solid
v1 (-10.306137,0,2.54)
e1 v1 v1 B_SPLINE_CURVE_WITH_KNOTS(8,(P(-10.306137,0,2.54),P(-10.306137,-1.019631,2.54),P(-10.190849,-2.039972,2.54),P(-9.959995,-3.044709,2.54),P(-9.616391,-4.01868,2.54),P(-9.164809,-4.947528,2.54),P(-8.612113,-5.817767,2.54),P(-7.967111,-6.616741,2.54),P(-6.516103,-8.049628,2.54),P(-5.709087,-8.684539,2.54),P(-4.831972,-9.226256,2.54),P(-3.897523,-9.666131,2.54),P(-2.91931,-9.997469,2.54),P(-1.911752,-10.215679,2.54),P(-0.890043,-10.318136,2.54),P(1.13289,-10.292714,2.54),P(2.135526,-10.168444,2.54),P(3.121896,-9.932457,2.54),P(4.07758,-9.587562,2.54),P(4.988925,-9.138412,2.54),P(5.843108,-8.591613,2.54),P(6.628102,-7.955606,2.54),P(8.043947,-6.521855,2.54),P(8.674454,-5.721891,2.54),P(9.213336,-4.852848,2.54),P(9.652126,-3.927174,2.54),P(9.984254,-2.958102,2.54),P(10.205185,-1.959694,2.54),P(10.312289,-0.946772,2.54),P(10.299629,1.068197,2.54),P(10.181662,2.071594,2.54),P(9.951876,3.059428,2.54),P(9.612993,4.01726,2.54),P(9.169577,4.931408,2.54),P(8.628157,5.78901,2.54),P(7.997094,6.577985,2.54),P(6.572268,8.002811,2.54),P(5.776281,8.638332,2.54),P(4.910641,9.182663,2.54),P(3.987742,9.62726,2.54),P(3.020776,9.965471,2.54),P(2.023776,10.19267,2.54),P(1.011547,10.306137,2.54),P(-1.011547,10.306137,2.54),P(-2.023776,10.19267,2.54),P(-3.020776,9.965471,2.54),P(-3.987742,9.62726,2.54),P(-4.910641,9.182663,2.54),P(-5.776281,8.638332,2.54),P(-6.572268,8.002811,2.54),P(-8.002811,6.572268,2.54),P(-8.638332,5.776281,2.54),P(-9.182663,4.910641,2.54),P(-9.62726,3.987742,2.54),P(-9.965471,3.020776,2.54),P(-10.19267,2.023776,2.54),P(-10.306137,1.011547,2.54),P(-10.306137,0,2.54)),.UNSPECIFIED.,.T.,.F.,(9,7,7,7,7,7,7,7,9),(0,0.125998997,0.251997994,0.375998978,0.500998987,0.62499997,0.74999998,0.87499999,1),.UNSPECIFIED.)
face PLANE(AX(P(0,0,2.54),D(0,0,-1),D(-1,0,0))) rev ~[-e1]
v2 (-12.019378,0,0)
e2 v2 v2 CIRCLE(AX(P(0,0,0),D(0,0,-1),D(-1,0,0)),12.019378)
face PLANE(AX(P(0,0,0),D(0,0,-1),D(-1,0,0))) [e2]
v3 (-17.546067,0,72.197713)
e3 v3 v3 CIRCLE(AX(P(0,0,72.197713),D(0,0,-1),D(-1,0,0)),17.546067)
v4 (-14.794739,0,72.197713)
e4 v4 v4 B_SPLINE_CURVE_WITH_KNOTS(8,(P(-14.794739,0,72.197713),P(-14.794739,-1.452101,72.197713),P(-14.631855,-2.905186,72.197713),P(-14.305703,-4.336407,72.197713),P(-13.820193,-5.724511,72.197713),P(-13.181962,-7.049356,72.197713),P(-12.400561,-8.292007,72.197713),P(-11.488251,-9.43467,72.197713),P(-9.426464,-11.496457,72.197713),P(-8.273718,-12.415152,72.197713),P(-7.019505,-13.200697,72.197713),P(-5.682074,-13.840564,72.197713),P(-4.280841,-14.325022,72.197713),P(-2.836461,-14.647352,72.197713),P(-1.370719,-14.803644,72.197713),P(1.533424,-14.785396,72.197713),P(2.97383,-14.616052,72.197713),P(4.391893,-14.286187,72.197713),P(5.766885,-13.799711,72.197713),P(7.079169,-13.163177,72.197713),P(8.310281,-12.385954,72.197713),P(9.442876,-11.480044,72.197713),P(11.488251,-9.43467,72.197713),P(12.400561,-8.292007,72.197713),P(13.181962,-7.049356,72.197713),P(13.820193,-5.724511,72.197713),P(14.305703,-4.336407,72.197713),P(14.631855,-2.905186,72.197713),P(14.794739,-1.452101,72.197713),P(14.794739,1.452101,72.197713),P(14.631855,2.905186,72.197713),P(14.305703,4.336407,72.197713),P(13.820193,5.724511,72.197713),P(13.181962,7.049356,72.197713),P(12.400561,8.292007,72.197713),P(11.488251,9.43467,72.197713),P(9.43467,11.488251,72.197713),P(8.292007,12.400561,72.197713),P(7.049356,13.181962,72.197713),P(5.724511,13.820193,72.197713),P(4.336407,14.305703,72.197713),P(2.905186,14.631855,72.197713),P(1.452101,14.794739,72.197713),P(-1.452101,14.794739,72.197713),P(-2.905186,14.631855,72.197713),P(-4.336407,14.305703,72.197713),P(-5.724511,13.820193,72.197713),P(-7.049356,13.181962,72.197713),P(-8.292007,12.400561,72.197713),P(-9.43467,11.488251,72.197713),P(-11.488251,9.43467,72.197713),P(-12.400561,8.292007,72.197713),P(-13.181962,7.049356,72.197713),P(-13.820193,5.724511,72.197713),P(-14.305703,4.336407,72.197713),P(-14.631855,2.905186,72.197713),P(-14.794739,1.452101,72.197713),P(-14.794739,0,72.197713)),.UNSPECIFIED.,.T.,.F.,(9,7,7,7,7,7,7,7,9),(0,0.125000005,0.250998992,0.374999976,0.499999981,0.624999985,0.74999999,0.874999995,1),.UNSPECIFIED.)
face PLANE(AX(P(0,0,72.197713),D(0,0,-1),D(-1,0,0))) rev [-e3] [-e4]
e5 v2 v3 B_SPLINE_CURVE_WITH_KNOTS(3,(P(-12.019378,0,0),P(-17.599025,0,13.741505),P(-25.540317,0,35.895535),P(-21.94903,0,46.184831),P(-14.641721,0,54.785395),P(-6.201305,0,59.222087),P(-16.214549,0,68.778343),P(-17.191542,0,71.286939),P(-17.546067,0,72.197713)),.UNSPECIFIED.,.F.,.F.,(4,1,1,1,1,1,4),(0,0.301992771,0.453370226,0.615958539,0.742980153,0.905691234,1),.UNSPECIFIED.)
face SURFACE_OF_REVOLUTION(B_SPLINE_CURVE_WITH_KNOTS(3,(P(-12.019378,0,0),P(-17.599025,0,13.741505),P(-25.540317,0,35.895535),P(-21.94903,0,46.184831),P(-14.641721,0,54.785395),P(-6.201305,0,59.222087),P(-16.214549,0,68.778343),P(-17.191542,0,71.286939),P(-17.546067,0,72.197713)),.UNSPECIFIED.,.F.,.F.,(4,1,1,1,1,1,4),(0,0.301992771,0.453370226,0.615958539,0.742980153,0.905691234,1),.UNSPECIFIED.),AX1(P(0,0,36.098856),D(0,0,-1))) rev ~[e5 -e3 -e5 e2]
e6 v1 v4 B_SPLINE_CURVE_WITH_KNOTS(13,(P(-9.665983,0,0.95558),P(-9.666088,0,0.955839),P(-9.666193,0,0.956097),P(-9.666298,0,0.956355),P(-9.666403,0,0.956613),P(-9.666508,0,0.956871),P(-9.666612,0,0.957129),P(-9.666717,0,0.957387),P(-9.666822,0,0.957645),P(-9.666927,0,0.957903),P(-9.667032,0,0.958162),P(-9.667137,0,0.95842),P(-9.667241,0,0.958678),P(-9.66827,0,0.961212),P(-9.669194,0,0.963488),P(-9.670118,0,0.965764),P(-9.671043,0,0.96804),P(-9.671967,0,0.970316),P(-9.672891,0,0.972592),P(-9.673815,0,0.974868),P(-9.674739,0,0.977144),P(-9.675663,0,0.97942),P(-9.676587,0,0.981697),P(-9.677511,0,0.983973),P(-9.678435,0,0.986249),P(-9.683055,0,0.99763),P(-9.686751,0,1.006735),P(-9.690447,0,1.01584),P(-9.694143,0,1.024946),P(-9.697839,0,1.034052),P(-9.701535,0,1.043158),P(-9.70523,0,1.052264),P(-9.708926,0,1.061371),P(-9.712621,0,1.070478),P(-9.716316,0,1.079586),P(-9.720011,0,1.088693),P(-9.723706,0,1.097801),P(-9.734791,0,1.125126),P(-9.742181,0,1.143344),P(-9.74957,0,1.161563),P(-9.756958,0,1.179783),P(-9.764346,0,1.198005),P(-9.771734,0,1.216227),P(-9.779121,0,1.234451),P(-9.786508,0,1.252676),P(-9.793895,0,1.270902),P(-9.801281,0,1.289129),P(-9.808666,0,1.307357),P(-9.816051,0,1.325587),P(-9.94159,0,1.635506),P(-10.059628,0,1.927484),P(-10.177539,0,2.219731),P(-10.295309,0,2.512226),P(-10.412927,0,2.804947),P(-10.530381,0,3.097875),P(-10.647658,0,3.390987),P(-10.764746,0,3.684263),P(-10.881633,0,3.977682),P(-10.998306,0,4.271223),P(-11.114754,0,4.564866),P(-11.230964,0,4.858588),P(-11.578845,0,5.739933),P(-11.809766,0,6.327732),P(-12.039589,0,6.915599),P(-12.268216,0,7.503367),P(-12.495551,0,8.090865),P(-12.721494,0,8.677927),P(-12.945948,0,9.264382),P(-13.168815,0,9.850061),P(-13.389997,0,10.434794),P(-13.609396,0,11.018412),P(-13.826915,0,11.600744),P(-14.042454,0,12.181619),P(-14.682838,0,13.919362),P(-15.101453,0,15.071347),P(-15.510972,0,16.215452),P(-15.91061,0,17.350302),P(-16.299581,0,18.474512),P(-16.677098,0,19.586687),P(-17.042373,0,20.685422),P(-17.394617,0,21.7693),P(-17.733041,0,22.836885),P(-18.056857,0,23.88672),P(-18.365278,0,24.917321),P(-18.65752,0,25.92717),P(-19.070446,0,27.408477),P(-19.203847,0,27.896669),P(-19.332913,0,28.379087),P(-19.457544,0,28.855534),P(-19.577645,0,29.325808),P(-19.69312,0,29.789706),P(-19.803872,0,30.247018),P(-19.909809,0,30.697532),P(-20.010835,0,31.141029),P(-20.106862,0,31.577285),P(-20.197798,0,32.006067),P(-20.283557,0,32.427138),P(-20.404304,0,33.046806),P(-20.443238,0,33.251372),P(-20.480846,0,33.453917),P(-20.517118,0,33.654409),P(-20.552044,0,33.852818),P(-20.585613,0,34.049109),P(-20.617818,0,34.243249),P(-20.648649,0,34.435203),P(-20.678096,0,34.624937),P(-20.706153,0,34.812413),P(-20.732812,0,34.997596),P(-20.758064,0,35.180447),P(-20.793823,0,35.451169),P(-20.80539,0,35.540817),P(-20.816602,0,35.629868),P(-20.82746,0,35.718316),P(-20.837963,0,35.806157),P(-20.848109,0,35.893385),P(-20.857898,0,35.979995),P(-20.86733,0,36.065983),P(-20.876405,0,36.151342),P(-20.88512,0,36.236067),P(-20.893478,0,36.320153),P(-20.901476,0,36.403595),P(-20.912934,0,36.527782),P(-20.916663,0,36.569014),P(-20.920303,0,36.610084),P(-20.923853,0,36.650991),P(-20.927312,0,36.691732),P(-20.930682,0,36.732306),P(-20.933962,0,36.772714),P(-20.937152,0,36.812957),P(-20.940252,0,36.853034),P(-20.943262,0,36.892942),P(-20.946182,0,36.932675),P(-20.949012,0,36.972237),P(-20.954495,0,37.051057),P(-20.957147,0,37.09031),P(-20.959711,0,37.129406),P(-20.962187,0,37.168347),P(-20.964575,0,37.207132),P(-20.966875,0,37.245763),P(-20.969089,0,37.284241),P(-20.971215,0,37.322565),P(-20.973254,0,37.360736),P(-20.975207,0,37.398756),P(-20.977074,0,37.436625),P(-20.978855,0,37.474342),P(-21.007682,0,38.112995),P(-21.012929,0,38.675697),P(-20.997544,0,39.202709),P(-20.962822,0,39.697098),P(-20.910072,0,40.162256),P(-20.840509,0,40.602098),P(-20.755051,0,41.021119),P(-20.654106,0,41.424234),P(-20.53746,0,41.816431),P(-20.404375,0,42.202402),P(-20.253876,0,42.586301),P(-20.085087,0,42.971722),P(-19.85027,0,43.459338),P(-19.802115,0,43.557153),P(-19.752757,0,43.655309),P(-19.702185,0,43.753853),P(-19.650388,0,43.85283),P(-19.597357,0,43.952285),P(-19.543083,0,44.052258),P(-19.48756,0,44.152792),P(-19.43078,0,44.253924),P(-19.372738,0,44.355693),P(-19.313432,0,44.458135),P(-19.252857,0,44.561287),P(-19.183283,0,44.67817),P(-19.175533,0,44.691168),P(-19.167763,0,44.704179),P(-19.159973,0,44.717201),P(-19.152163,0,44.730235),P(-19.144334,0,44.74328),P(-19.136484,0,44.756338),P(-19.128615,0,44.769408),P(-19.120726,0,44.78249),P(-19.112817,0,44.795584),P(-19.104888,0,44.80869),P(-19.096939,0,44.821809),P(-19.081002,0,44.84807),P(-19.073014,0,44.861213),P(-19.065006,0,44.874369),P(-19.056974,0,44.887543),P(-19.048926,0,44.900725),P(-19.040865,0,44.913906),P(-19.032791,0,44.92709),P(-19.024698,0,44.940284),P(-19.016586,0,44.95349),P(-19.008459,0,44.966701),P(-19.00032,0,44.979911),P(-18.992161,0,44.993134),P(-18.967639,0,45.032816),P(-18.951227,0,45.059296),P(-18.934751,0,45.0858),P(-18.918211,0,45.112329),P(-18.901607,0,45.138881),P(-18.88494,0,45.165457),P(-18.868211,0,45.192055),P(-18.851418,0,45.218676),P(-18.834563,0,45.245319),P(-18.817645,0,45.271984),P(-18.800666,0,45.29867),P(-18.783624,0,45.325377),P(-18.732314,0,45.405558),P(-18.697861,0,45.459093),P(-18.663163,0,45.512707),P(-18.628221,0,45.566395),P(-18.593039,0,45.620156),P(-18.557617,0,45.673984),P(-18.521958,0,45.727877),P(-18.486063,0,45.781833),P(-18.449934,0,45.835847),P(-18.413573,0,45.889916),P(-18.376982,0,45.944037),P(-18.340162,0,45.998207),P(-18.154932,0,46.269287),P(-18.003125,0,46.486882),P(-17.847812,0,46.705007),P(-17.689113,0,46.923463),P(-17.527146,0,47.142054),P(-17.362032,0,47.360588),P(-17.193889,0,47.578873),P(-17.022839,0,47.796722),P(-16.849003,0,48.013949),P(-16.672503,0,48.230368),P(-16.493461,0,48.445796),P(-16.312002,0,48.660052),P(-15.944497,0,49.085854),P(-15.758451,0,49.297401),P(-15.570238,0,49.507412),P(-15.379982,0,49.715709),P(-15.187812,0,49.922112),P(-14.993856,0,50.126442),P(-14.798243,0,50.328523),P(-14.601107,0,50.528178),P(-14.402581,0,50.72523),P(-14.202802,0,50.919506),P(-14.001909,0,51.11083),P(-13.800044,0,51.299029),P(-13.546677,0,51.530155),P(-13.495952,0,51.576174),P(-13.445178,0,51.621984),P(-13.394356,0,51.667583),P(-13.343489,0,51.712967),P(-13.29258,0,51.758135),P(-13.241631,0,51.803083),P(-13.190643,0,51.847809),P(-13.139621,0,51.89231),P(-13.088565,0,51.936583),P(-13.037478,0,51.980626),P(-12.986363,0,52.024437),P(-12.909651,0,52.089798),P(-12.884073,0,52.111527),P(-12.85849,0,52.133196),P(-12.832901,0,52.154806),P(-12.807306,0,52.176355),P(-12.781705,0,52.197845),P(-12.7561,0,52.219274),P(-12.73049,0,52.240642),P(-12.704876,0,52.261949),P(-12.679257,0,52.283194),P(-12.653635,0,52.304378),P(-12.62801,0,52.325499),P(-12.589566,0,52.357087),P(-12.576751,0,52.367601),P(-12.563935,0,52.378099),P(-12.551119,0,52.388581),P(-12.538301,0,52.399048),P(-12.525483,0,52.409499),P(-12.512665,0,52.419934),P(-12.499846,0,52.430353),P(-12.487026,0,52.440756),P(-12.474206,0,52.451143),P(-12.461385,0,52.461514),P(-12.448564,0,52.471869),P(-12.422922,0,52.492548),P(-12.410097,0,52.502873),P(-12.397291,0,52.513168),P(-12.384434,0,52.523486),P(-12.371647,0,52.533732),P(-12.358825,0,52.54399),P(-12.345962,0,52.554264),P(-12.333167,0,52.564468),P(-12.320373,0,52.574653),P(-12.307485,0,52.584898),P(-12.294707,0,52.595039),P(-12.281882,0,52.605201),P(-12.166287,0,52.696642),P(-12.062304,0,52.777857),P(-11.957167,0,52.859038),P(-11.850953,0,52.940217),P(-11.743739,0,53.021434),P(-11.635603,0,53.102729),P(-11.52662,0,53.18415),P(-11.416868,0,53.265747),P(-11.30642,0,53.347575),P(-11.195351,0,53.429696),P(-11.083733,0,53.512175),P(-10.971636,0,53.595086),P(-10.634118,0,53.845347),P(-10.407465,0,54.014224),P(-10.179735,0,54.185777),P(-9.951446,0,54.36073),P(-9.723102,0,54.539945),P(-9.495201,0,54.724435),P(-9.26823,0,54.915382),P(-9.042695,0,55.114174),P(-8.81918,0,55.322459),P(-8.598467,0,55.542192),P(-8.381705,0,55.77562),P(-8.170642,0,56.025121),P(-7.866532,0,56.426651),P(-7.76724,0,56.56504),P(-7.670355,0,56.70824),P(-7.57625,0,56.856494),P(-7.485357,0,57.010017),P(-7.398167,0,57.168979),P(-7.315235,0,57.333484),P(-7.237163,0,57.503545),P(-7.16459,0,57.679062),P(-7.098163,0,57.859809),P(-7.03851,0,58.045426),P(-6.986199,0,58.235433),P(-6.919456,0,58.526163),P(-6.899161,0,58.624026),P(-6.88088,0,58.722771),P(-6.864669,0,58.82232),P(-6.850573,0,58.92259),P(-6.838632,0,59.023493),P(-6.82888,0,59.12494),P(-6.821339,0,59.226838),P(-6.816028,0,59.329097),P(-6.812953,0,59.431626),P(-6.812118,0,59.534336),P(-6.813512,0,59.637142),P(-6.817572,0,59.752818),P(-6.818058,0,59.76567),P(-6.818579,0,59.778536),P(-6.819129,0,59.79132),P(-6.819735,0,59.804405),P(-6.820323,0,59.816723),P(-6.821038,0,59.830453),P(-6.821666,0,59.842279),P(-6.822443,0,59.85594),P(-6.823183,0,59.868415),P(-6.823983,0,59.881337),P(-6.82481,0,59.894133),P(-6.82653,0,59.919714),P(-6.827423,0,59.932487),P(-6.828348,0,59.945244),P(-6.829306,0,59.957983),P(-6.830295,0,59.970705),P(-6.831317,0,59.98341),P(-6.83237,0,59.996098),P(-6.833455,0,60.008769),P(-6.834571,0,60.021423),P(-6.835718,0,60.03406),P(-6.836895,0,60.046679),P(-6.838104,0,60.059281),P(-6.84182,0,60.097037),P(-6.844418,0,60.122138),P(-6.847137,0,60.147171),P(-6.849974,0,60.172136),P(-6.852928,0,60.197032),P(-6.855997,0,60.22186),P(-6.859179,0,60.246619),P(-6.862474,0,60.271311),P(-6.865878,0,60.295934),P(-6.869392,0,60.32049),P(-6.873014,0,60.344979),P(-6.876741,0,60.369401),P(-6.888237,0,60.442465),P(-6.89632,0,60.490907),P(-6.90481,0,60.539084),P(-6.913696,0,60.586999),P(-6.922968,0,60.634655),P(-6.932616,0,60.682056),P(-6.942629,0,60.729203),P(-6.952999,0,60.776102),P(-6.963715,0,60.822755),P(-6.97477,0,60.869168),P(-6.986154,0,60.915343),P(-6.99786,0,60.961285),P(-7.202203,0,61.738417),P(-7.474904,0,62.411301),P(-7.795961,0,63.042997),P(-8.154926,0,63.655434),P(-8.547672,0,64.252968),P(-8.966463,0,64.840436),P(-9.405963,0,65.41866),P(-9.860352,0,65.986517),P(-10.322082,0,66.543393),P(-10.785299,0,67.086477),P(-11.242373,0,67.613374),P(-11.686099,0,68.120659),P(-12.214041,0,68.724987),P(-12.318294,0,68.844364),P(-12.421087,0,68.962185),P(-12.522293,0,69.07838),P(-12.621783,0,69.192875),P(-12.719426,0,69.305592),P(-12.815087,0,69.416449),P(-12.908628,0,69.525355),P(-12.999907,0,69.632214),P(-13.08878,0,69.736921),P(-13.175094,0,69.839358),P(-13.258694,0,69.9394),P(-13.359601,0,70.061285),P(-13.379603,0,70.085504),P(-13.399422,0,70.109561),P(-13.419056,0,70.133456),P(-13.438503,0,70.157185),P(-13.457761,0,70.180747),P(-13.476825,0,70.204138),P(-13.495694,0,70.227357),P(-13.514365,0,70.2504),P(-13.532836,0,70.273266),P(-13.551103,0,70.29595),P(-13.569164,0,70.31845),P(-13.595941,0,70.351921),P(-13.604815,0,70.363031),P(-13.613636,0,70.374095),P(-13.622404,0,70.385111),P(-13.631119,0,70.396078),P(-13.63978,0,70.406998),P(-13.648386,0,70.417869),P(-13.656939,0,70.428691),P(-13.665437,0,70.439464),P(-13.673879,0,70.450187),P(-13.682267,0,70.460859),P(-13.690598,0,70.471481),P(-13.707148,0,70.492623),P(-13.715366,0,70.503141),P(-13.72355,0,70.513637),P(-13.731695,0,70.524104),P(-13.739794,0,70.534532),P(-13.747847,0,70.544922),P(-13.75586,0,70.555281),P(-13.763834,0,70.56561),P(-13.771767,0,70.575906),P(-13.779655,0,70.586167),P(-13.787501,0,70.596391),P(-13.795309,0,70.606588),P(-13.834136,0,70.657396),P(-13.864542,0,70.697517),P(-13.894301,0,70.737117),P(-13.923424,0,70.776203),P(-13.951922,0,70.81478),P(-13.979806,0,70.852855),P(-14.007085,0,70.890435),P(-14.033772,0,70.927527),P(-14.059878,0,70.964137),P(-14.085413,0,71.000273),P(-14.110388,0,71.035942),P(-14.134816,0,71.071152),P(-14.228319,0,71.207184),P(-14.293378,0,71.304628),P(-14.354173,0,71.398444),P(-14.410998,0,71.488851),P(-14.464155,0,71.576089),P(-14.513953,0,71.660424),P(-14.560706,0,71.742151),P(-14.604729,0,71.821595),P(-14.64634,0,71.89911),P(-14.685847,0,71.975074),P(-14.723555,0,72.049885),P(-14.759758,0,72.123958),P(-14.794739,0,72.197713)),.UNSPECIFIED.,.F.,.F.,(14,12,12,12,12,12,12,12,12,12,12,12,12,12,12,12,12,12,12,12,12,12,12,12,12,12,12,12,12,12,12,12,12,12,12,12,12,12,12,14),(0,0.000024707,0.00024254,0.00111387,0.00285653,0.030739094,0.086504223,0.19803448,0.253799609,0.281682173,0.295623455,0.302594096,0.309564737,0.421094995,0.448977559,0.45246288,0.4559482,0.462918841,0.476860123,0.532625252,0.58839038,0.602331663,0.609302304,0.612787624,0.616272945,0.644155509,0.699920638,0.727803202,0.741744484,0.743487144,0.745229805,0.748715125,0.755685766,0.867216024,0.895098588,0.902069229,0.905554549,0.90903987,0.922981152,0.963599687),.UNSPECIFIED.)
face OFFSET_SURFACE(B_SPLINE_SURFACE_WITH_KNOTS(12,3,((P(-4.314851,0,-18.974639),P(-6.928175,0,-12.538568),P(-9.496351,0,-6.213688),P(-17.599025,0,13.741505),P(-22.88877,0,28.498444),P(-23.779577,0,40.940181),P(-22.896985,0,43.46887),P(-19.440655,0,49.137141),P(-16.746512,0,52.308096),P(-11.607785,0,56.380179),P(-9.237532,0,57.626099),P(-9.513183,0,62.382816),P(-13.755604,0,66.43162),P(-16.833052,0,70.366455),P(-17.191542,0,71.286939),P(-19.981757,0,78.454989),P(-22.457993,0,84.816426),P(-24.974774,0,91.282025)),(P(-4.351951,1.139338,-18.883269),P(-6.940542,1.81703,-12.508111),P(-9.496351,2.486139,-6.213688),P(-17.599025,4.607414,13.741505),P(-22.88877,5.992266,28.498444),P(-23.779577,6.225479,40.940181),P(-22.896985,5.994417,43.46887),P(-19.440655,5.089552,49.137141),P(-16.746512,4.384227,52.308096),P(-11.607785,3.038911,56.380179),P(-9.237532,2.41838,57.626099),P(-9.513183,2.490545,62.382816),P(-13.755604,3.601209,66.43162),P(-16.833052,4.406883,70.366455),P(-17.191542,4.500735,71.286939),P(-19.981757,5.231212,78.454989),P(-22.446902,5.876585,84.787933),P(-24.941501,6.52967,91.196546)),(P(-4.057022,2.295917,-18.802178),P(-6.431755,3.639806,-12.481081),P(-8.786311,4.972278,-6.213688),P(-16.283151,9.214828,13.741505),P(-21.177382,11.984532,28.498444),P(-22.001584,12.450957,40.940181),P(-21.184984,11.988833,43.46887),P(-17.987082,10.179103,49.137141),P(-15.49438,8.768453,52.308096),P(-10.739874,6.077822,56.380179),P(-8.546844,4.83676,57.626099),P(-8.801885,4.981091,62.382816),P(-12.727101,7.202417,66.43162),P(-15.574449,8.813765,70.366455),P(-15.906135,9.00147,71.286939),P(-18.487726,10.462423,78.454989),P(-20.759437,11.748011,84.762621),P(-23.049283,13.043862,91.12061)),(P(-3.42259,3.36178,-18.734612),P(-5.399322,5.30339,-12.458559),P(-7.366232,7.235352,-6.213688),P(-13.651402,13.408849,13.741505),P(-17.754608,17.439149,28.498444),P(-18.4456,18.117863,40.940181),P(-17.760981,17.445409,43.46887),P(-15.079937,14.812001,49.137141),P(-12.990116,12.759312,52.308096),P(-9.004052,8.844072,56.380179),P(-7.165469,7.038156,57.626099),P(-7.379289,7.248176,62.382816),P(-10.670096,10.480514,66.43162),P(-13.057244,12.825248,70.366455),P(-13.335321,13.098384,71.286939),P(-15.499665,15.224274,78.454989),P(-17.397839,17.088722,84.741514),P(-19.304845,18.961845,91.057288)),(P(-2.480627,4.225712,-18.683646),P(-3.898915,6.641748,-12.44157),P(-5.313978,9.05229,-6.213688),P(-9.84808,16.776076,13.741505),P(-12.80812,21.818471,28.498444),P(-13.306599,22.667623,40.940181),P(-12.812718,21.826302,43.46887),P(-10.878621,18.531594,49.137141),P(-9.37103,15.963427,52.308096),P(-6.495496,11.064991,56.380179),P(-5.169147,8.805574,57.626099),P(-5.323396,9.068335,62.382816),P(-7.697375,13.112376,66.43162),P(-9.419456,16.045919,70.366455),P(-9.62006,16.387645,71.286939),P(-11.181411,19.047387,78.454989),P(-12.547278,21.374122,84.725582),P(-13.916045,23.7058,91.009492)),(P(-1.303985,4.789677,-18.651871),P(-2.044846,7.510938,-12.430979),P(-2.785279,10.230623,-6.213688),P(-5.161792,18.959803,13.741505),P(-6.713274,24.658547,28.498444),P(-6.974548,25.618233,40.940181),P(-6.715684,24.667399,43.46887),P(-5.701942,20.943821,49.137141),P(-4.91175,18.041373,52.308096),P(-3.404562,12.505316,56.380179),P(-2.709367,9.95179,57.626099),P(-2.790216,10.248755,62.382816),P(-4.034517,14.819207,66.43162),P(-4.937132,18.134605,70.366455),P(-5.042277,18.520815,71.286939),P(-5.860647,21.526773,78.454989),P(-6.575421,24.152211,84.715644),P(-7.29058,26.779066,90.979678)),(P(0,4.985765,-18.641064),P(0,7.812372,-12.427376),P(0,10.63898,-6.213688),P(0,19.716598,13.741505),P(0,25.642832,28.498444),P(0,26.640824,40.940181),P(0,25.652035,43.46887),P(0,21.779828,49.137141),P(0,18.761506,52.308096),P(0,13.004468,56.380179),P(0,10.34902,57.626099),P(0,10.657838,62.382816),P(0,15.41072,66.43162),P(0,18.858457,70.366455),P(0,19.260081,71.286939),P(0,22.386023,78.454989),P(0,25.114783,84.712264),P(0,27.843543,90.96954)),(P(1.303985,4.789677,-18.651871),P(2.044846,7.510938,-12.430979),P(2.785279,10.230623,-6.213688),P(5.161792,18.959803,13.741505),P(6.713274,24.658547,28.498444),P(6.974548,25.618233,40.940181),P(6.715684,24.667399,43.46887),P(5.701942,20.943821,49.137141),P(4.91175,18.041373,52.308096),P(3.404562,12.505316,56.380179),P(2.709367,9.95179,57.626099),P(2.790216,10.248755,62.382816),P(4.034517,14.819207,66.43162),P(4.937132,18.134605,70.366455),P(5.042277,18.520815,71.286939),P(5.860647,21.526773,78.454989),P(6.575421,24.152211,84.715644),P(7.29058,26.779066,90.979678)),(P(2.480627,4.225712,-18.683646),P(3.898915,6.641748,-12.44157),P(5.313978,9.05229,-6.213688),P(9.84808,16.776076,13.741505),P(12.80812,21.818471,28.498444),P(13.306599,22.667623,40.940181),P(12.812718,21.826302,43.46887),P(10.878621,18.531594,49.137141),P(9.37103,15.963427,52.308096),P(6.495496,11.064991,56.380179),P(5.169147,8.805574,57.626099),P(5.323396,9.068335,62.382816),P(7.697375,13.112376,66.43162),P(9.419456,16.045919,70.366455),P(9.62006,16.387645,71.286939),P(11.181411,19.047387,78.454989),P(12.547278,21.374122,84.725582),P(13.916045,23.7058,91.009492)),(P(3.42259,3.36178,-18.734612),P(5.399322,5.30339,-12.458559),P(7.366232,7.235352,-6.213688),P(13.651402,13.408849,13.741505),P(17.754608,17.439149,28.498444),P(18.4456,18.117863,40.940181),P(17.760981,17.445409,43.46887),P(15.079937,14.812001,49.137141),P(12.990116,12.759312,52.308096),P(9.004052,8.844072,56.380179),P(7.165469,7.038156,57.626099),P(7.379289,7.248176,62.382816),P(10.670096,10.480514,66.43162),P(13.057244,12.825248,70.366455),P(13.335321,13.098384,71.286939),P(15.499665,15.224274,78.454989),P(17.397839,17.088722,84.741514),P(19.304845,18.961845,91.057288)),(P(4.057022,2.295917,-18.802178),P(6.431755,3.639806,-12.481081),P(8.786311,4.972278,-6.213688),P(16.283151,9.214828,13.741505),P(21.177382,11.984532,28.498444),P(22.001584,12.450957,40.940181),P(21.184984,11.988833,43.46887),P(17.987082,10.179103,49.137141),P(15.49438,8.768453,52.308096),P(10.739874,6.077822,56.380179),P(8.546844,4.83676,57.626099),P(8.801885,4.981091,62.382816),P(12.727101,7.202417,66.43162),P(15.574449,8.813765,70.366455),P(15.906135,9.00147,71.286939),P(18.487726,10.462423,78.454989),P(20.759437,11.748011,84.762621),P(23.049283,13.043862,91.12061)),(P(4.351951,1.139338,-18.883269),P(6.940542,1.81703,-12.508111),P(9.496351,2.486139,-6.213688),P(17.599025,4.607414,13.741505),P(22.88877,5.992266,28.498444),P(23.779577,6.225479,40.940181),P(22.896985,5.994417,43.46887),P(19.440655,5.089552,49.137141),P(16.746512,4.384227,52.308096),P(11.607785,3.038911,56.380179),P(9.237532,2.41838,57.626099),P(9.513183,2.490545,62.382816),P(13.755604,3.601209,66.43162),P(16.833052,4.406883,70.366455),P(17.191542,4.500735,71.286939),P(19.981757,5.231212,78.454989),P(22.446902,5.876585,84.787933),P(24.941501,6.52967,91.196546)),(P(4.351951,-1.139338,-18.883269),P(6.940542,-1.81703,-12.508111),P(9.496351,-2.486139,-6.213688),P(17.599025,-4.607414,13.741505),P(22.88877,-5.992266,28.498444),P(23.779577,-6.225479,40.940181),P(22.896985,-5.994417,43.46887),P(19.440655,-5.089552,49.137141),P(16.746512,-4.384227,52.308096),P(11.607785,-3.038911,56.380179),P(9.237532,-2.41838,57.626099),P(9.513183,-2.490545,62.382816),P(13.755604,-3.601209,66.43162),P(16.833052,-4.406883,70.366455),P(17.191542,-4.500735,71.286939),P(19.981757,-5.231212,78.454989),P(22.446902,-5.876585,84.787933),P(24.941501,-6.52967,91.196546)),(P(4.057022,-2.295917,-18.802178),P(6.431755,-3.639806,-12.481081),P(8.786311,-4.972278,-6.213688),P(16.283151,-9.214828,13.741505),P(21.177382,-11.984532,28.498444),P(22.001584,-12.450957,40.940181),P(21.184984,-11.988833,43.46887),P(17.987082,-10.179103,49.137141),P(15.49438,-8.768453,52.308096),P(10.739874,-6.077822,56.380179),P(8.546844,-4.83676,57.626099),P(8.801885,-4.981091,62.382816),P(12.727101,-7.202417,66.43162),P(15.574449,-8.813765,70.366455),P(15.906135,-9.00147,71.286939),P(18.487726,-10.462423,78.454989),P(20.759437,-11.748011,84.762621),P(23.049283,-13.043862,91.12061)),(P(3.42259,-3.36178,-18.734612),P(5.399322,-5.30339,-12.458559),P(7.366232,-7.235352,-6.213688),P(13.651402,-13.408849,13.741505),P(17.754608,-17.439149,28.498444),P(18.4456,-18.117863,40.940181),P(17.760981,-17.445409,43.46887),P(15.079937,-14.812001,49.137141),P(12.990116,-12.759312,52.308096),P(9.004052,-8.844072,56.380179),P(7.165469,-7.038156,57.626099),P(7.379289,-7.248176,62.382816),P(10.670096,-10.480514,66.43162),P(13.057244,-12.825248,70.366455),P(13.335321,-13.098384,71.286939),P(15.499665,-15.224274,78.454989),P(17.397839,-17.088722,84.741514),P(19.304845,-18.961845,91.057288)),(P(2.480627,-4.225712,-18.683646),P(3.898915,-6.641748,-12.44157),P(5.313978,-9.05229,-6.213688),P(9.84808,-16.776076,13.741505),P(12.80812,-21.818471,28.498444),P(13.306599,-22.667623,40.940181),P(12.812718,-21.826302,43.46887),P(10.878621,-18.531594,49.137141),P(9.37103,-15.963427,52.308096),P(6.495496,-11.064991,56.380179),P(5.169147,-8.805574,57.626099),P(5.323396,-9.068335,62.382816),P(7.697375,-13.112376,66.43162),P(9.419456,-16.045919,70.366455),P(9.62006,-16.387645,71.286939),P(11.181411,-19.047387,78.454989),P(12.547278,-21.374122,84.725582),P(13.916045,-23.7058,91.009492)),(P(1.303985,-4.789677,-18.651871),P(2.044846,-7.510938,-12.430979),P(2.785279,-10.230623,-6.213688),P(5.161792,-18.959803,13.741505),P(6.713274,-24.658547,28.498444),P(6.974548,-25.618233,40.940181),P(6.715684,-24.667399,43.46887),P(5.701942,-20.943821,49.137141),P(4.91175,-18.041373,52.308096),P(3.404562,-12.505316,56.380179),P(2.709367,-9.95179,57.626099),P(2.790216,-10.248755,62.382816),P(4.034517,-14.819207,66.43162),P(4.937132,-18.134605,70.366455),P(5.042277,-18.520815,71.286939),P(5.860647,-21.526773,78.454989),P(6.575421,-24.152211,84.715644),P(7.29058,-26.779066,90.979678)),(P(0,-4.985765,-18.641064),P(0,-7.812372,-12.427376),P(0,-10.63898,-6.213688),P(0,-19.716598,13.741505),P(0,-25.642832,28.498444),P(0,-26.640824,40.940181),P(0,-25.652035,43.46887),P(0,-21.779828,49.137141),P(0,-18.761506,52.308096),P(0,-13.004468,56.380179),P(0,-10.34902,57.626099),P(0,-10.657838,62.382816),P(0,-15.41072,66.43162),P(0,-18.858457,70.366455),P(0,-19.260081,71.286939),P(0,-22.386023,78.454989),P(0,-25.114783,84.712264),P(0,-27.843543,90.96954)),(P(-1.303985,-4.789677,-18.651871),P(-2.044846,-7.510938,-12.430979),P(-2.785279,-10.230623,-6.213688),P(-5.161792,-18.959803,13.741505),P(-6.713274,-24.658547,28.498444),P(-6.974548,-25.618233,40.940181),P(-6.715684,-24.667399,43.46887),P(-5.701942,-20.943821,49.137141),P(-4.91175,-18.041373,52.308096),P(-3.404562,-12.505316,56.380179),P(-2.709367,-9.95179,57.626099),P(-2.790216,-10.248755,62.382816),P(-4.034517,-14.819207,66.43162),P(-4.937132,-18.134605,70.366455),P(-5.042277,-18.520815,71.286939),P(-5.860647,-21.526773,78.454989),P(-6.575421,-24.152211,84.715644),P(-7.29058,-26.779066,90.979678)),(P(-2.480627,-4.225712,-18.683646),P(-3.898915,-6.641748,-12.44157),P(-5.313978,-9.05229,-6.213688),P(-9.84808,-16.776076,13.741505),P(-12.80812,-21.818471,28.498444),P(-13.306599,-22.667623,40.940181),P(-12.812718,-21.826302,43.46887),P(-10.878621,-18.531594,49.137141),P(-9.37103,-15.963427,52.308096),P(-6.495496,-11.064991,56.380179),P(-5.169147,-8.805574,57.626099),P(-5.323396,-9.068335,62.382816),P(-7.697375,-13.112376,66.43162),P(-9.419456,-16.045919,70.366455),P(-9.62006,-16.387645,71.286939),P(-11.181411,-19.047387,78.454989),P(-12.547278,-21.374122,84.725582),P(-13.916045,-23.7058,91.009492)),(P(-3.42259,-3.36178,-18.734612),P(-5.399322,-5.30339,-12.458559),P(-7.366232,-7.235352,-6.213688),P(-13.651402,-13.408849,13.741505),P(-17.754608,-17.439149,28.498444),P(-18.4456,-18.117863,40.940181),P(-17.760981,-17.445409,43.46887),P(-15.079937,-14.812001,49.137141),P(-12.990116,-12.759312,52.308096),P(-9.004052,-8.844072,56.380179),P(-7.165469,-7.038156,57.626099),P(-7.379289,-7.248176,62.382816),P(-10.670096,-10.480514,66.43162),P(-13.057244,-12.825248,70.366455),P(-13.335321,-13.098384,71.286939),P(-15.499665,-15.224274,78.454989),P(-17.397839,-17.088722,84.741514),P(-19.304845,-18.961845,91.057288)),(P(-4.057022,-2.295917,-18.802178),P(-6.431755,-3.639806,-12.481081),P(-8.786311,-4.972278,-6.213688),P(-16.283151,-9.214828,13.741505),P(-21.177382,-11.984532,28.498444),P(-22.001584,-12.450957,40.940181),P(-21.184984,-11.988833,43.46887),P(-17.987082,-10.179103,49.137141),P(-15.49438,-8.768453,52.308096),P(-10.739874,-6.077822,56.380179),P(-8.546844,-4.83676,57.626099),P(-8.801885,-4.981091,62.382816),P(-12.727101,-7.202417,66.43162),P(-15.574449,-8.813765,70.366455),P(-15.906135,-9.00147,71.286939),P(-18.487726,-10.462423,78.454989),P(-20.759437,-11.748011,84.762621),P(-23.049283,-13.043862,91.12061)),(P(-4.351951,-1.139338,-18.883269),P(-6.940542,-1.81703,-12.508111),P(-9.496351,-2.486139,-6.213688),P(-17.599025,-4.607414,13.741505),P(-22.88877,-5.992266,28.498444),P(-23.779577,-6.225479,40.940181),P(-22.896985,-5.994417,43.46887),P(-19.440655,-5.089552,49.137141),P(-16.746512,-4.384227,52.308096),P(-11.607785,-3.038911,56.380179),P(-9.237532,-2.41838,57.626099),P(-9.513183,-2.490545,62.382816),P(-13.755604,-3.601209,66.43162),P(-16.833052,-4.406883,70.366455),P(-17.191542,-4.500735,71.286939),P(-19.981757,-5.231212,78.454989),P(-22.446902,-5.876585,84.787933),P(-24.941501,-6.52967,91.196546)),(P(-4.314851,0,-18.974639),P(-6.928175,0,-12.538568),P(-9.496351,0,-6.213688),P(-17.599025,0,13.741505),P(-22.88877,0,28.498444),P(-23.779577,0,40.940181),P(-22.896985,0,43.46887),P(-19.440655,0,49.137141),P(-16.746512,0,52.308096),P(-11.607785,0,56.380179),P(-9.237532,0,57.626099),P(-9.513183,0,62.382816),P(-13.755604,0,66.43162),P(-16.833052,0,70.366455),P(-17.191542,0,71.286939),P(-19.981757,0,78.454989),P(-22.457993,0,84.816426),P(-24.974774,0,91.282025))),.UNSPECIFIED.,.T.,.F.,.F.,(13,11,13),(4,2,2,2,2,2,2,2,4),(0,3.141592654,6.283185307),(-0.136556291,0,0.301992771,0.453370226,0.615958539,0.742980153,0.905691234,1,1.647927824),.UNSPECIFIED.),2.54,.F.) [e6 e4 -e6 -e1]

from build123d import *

# Parameters (mm, degrees)
F2_T = -2.54


with BuildPart() as f1:
    # F0 (on Front) → F1 (revolve)
    with BuildSketch(Plane.XZ):
        with BuildLine():
            Line((-12.0193781331, 0), (0, 0))
            Line((0, 0), (0, 72.1977129579))
            Line((0, 72.1977129579), (-17.5460670143, 72.1977129579))
            add(Edge.make_bspline(
                [(-12.0193781331, 0), (-17.5990253763, 13.7415045688), (-25.5403166038, 35.8955349105), (-21.949029927, 46.1848312794), (-14.6417213827, 54.7853945408), (-6.20130497, 59.2220873134), (-16.2145488656, 68.7783427226), (-17.1915415468, 71.2869387531), (-17.5460670143, 72.1977129579)],
                knots=[0, 0, 0, 0, 0.3019927707, 0.4533702261, 0.6159585385, 0.7429801533, 0.9056912339, 1, 1, 1, 1], degree=3))
        make_face()
    revolve(axis=Axis((0, 0, 36.0988564789), (0, 0, -1)))

    # F2
    f2_openings = [f1.faces().sort_by_distance(p)[0] for p in [
        (0, 0, 72.197713),
    ]]
    offset(amount=F2_T, openings=f2_openings)


solid = f1.part
